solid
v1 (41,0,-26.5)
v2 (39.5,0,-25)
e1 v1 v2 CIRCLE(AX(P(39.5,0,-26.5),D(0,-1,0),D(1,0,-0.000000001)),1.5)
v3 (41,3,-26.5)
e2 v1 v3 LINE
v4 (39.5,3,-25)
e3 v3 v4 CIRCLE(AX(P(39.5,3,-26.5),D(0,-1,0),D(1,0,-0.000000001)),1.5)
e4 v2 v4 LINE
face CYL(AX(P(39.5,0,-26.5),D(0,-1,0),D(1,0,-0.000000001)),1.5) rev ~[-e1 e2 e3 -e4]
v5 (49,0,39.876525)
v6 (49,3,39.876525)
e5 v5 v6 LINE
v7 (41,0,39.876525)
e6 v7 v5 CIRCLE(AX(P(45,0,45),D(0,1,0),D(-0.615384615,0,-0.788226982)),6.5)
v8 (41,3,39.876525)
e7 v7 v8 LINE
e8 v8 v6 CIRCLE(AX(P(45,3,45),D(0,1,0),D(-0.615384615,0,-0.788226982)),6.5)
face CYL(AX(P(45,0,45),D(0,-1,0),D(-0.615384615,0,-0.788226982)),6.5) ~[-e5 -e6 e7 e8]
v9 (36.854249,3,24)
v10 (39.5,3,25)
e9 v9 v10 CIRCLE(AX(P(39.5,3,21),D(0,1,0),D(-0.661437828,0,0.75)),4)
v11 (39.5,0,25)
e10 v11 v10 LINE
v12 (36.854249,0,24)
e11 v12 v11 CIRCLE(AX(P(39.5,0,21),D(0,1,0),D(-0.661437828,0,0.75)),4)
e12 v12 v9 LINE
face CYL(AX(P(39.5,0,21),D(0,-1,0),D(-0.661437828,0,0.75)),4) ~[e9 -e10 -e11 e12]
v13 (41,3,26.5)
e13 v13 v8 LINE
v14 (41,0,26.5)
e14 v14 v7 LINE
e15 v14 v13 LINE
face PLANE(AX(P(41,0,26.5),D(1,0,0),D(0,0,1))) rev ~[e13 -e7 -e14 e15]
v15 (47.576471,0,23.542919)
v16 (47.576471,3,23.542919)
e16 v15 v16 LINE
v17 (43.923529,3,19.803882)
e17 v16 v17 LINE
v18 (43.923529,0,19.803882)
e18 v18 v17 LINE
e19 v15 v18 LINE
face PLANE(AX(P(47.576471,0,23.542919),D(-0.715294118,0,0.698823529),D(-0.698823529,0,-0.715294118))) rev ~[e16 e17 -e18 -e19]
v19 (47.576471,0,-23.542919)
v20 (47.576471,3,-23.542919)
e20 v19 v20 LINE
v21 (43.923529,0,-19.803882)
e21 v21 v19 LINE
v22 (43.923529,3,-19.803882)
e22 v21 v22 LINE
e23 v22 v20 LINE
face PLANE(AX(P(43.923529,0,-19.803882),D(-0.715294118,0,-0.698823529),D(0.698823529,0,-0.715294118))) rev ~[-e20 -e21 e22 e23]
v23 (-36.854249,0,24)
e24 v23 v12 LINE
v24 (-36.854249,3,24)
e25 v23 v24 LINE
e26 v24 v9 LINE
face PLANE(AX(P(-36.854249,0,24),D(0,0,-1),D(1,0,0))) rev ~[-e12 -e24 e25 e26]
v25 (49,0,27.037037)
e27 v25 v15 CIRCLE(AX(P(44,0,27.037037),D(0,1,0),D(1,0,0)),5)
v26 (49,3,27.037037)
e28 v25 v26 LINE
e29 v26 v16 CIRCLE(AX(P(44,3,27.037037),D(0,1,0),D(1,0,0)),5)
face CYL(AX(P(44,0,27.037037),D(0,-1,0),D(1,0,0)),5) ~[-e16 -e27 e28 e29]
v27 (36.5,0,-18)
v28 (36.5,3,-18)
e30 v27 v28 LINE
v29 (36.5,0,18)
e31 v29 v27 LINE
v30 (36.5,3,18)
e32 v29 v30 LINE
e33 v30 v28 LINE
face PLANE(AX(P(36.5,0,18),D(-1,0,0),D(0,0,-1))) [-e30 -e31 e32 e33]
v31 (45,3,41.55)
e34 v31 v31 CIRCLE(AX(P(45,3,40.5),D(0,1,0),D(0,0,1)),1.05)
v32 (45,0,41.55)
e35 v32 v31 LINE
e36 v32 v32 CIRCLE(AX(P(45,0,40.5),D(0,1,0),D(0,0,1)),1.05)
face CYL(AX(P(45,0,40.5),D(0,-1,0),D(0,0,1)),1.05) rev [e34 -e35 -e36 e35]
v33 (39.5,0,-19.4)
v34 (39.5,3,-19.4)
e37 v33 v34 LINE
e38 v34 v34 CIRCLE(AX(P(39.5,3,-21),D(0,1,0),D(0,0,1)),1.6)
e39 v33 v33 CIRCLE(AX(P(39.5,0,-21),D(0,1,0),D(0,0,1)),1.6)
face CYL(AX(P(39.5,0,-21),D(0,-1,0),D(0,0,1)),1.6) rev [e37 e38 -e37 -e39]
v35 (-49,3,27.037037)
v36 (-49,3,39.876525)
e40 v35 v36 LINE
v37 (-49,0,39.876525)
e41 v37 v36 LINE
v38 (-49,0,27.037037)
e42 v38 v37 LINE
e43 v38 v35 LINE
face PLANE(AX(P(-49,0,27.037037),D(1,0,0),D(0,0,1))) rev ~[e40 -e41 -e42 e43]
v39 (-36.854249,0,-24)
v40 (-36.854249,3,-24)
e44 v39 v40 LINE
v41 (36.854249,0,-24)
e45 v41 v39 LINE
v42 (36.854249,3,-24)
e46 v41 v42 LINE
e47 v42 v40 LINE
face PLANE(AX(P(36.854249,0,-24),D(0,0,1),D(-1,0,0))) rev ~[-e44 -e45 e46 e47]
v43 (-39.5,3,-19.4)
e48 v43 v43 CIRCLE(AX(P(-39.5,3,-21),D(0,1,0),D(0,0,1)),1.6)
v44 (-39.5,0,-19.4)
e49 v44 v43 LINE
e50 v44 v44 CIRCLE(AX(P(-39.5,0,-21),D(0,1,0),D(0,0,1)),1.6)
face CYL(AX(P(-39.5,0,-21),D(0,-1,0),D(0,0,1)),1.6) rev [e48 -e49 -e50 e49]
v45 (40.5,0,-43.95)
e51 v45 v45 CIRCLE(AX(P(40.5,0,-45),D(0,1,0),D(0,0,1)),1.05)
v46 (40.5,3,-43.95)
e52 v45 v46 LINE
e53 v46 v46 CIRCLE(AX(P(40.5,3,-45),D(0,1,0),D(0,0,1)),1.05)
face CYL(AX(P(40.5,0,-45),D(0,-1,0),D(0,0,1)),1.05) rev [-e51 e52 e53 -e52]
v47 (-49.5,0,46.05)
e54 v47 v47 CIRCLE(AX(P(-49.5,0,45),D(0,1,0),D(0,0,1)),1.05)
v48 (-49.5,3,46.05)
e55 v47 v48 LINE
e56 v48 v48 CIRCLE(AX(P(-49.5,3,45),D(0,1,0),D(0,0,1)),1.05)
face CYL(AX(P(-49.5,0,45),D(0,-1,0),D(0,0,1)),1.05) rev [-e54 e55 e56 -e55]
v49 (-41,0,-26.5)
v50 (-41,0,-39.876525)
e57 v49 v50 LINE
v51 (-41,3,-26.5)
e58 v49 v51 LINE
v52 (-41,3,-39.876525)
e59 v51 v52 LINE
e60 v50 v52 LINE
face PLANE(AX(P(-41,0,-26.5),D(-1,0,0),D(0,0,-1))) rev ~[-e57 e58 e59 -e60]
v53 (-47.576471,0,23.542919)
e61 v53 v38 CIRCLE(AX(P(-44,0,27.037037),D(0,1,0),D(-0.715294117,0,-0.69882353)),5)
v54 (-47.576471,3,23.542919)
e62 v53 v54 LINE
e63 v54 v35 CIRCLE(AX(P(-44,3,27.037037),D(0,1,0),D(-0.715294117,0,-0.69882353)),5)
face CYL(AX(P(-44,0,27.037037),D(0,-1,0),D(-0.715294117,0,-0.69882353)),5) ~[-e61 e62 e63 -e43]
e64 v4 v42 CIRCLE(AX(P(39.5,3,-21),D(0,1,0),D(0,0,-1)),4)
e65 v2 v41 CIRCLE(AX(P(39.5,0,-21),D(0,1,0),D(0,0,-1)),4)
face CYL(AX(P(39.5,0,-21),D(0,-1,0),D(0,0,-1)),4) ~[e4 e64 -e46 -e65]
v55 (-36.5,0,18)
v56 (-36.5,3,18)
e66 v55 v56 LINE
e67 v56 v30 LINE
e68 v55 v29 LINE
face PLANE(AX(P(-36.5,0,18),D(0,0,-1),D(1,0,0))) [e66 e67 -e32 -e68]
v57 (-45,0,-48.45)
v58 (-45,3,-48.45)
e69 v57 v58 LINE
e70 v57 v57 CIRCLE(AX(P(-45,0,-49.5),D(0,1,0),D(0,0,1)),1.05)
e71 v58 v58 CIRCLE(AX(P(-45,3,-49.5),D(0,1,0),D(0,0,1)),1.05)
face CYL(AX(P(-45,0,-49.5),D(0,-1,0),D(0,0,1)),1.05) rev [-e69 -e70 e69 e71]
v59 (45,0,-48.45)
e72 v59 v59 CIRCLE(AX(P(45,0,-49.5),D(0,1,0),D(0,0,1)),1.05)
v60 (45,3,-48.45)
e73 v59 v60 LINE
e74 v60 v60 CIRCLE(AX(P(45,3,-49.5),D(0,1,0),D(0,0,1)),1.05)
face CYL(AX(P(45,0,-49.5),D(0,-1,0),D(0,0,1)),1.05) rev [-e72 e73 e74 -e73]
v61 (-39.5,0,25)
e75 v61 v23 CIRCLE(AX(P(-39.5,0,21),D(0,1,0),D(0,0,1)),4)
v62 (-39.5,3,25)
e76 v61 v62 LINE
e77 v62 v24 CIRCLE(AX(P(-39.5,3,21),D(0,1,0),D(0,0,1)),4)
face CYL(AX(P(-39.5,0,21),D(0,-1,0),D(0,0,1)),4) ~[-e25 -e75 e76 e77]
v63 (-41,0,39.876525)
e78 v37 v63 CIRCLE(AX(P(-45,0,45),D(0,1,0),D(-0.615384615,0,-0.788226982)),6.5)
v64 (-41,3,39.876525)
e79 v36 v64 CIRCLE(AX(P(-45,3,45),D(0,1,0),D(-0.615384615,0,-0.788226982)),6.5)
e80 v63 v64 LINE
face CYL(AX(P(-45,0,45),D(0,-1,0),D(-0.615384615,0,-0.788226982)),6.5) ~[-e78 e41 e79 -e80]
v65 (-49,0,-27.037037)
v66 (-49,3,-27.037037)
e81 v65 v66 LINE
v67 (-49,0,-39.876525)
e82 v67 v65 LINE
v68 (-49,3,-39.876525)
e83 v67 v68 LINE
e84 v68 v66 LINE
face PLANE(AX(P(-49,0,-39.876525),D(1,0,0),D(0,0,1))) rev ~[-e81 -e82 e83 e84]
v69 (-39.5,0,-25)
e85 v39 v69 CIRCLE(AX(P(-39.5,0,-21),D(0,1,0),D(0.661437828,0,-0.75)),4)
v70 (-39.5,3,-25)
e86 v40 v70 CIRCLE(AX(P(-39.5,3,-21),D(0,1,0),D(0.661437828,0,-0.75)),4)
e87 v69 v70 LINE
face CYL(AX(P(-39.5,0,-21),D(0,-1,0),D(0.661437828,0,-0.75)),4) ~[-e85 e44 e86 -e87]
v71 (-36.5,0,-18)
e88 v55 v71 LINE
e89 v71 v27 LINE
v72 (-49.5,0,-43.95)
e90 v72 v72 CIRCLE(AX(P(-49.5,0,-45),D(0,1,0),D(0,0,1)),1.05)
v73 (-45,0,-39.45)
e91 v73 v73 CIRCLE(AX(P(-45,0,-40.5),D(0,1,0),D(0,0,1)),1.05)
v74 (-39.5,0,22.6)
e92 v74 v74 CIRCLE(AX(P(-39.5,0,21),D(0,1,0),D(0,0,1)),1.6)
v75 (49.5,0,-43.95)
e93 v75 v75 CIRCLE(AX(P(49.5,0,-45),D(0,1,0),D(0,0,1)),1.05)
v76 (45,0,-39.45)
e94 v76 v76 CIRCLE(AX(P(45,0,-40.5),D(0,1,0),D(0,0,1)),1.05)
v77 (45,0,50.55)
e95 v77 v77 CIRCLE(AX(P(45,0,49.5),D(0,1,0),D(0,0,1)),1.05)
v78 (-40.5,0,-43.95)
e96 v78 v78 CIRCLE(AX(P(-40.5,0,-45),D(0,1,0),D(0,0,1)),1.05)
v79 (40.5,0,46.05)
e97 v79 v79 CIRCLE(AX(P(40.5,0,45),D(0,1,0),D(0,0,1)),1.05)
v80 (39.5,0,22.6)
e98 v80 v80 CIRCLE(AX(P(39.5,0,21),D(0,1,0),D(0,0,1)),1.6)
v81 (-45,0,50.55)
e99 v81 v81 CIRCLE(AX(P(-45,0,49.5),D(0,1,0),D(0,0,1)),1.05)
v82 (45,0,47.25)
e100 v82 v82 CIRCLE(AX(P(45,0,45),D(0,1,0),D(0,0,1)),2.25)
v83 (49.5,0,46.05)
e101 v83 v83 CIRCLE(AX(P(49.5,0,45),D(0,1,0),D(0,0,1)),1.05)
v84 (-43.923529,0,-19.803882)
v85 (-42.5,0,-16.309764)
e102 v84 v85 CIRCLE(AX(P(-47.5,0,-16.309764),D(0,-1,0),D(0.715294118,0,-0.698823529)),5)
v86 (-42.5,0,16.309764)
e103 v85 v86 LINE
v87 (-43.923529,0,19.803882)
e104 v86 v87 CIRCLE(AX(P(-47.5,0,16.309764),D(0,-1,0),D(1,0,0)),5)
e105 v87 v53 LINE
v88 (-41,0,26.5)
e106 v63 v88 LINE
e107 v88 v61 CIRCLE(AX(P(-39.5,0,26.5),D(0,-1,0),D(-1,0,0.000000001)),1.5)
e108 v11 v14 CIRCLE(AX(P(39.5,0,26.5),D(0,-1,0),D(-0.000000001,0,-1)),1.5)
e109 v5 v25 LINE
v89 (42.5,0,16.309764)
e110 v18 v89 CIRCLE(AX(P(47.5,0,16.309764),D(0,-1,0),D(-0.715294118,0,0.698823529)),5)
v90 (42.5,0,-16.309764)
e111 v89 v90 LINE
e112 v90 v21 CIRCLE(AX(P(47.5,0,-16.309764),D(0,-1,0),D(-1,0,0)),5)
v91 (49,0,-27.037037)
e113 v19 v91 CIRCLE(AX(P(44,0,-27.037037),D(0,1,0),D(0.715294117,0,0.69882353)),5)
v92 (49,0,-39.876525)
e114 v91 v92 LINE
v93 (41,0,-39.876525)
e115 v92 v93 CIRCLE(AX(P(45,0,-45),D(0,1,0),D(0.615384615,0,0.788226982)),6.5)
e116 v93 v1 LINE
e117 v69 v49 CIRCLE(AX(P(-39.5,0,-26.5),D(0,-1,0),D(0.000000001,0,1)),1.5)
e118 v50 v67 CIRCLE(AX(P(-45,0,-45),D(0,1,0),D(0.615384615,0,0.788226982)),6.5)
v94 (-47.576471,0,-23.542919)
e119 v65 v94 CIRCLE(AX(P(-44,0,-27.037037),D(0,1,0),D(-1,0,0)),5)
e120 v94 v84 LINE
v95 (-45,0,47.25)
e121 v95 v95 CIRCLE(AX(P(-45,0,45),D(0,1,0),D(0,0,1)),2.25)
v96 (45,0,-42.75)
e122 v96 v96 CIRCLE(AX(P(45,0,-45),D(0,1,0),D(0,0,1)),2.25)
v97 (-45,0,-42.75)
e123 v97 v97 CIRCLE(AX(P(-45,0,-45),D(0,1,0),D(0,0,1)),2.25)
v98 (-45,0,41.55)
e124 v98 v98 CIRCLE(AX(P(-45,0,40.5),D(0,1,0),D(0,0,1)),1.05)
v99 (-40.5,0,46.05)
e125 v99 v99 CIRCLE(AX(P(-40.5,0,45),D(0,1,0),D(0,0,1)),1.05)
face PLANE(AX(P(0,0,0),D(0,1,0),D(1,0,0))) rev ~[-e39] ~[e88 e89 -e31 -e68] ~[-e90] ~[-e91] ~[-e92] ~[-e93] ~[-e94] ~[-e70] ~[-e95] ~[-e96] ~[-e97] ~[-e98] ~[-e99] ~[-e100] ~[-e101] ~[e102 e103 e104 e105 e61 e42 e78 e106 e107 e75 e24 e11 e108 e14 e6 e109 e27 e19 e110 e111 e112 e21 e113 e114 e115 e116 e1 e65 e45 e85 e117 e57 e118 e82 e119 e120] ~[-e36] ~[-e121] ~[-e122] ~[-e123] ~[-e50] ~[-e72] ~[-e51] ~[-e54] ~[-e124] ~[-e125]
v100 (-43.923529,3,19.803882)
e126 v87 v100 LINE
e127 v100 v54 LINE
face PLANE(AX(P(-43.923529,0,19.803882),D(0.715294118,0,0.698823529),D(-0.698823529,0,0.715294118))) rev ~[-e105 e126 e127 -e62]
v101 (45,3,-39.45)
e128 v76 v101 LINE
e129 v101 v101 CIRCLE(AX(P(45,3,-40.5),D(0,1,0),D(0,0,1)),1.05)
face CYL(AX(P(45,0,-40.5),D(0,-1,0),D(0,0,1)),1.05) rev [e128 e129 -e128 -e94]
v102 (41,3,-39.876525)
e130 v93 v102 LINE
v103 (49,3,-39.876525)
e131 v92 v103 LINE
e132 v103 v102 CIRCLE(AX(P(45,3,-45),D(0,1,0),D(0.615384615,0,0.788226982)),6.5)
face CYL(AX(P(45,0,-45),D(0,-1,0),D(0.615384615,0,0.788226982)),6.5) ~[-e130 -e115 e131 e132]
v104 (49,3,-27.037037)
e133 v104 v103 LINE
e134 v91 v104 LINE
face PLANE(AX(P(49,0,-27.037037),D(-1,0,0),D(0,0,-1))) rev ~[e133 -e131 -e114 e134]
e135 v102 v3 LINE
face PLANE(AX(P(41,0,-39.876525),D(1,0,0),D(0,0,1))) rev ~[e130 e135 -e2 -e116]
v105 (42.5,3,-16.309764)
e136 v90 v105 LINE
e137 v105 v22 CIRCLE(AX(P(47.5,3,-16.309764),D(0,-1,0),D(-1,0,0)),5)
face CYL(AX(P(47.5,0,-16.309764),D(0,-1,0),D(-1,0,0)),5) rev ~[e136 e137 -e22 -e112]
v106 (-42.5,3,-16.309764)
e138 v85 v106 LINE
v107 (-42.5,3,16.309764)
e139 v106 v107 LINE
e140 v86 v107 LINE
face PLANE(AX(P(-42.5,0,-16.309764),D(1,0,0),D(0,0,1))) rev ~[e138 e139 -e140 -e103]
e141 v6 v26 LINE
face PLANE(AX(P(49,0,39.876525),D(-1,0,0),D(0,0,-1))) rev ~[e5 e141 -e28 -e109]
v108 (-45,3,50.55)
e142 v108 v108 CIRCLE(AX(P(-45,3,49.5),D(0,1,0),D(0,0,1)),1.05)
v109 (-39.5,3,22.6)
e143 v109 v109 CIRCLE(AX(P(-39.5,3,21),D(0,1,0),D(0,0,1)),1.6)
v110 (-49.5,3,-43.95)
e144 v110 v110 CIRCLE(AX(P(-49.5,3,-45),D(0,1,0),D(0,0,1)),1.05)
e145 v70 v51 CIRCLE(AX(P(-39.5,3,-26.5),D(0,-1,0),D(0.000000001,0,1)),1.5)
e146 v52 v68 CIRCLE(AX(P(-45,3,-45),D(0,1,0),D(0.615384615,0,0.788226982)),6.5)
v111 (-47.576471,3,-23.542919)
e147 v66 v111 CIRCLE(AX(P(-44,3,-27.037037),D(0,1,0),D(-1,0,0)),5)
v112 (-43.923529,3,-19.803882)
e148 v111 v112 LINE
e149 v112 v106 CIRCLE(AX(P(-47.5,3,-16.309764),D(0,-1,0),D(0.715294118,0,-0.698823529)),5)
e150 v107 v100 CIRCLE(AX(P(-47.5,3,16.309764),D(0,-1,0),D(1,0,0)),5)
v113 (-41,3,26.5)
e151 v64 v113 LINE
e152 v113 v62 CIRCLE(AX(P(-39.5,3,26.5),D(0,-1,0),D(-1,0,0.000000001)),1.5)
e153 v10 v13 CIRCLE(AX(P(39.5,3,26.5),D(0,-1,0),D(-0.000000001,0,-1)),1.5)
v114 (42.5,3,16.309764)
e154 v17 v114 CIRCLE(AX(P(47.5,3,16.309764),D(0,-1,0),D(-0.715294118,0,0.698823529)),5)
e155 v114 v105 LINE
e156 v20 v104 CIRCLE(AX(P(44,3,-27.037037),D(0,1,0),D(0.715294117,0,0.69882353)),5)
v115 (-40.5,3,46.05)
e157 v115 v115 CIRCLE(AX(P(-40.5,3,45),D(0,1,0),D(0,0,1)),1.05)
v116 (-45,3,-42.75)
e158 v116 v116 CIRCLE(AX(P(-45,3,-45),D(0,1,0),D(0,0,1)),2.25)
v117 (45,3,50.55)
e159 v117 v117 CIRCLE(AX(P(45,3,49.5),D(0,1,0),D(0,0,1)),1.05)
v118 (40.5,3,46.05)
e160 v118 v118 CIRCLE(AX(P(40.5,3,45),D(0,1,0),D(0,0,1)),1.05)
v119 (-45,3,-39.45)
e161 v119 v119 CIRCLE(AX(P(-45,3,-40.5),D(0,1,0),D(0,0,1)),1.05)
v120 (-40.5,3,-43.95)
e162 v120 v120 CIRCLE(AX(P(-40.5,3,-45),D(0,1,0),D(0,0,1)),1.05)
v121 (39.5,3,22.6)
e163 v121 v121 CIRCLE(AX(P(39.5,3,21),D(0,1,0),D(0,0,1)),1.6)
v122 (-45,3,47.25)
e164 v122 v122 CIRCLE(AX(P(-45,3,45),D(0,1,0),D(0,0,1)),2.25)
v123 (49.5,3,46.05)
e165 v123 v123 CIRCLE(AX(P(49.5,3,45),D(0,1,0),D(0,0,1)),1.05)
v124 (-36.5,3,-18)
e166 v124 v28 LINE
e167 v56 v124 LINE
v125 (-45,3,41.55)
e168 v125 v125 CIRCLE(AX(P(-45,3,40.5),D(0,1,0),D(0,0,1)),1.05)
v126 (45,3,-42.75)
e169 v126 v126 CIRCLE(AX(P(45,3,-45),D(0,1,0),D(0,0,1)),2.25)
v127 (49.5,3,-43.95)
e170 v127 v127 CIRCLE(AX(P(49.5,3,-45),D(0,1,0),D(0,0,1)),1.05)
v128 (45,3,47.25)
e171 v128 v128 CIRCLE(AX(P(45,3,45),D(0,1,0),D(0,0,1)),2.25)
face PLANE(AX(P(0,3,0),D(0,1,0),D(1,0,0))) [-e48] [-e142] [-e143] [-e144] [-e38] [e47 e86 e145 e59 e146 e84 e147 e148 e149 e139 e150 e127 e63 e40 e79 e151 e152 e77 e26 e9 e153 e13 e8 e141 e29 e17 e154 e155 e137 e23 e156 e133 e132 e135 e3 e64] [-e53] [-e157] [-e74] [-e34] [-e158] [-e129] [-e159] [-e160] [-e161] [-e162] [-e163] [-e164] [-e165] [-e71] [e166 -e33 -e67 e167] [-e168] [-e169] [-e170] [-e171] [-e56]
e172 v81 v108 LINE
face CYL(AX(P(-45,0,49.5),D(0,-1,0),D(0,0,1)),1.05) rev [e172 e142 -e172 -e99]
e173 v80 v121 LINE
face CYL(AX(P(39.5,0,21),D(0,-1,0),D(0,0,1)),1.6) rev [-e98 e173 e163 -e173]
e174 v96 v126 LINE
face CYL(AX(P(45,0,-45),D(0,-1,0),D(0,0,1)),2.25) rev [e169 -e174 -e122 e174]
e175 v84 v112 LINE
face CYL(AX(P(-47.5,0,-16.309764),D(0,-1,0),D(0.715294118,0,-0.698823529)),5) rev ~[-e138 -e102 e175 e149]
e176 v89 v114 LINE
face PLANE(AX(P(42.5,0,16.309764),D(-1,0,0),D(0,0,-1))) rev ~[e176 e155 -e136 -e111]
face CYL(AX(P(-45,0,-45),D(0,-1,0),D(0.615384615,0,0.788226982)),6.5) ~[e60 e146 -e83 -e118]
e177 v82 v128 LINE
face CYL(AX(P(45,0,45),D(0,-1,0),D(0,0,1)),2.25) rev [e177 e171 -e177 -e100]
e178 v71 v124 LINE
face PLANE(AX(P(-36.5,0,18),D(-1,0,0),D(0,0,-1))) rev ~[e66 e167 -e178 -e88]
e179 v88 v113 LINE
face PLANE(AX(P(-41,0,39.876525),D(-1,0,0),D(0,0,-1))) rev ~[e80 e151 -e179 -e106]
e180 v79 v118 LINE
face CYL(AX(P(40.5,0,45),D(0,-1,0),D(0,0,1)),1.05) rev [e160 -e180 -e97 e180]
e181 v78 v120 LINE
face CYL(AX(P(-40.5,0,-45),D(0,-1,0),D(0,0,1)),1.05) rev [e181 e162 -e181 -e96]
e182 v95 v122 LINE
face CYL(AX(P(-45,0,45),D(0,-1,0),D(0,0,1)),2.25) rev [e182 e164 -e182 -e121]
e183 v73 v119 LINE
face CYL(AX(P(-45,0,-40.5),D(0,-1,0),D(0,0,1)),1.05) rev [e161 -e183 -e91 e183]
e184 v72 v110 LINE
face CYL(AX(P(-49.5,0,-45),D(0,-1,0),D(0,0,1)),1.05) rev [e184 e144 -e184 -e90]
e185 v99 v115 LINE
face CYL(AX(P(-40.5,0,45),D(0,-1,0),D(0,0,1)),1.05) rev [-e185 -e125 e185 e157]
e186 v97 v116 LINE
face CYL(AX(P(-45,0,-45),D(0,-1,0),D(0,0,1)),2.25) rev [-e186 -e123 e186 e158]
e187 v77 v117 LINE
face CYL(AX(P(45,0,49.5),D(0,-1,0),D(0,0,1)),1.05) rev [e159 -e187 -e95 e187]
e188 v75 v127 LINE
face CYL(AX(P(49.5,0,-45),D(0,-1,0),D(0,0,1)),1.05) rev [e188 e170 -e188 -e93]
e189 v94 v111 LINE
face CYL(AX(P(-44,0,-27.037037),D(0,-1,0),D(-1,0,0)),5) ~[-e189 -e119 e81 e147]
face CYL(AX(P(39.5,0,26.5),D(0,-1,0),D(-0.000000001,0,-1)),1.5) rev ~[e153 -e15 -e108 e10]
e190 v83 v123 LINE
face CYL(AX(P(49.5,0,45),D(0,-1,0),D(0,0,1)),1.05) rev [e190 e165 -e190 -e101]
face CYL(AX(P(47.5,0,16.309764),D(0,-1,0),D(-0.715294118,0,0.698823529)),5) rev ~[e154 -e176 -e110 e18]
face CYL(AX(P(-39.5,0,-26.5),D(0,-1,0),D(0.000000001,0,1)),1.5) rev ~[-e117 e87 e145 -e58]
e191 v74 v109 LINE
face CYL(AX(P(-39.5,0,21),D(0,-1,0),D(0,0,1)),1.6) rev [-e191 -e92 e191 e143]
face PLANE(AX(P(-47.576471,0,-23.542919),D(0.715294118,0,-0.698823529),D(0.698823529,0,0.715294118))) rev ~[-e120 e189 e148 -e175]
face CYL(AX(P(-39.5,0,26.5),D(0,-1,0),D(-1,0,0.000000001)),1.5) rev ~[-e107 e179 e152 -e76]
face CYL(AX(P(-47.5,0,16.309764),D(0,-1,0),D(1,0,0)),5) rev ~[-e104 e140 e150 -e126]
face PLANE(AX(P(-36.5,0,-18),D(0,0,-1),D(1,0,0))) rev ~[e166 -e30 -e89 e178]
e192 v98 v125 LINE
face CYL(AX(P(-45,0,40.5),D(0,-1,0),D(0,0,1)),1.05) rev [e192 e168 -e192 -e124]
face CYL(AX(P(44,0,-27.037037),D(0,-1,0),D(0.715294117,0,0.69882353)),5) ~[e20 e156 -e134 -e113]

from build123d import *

# Parameters (mm, degrees)
SKETCH_1_R      = 1.6
SKETCH_1_R_2    = 2.25
SKETCH_1_R_3    = 1.05
SKETCH_1_W      = 73
SKETCH_1_H      = 36
EXTRUDE_2_DEPTH = 3


with BuildPart() as part:
    # 草图1 → 凸台-拉伸2 (new body)
    with BuildSketch(Plane(origin=(0, 0, 0), x_dir=(1, 0, 0), z_dir=(0, 1, 0))):
        with BuildLine():
            Line((41, 39.876524617), (41, 26.5))
            ThreePointArc((41, 26.5), (40.560660172, 25.439339828), (39.5, 25))
            ThreePointArc((39.5, 25), (38.085786438, 24.741657387), (36.854248689, 24))
            Line((36.854248689, 24), (-36.854248689, 24))
            ThreePointArc((-36.854248689, 24), (-38.085786438, 24.741657387), (-39.5, 25))
            ThreePointArc((-39.5, 25), (-40.560660172, 25.439339828), (-41, 26.5))
            Line((-41, 26.5), (-41, 39.876524617))
            ThreePointArc((-41, 39.876524617), (-45, 51.5), (-49, 39.876524617))
            Line((-49, 39.876524617), (-49, 27.037037037))
            ThreePointArc((-49, 27.037037037), (-48.630461799, 25.1505526), (-47.576470588, 23.54291939))
            Line((-47.576470588, 23.54291939), (-43.923529412, 19.803881957))
            ThreePointArc((-43.923529412, 19.803881957), (-42.869538201, 18.196248746), (-42.5, 16.30976431))
            Line((-42.5, 16.30976431), (-42.5, -16.30976431))
            ThreePointArc((-42.5, -16.30976431), (-42.869538201, -18.196248746), (-43.923529412, -19.803881957))
            Line((-43.923529412, -19.803881957), (-47.576470588, -23.54291939))
            ThreePointArc((-47.576470588, -23.54291939), (-48.630461799, -25.1505526), (-49, -27.037037037))
            Line((-49, -27.037037037), (-49, -39.876524617))
            ThreePointArc((-49, -39.876524617), (-45, -51.5), (-41, -39.876524617))
            Line((-41, -39.876524617), (-41, -26.5))
            ThreePointArc((-41, -26.5), (-40.560660172, -25.439339828), (-39.5, -25))
            ThreePointArc((-39.5, -25), (-38.085786438, -24.741657387), (-36.854248689, -24))
            Line((-36.854248689, -24), (36.854248689, -24))
            ThreePointArc((36.854248689, -24), (38.085786438, -24.741657387), (39.5, -25))
            ThreePointArc((39.5, -25), (40.560660172, -25.439339828), (41, -26.5))
            Line((41, -26.5), (41, -39.876524617))
            ThreePointArc((41, -39.876524617), (45, -51.5), (49, -39.876524617))
            Line((49, -39.876524617), (49, -27.037037037))
            ThreePointArc((49, -27.037037037), (48.630461799, -25.1505526), (47.576470588, -23.54291939))
            Line((47.576470588, -23.54291939), (43.923529412, -19.803881957))
            ThreePointArc((43.923529412, -19.803881957), (42.869538201, -18.196248746), (42.5, -16.30976431))
            Line((42.5, -16.30976431), (42.5, 16.30976431))
            ThreePointArc((42.5, 16.30976431), (42.869538201, 18.196248746), (43.923529412, 19.803881957))
            Line((43.923529412, 19.803881957), (47.576470588, 23.54291939))
            ThreePointArc((47.576470588, 23.54291939), (48.630461799, 25.1505526), (49, 27.037037037))
            Line((49, 27.037037037), (49, 39.876524617))
            ThreePointArc((49, 39.876524617), (45, 51.5), (41, 39.876524617))
        make_face()
        with Locations(Location((-39.5, 21, 0), (0, 0, 270))):
            Circle(SKETCH_1_R, mode=Mode.SUBTRACT)
        with Locations(Location((39.5, 21, 0), (0, 0, 270))):
            Circle(SKETCH_1_R, mode=Mode.SUBTRACT)
        with Locations(Location((39.5, -21, 0), (0, 0, 270))):
            Circle(SKETCH_1_R, mode=Mode.SUBTRACT)
        with Locations(Location((-39.5, -21, 0), (0, 0, 270))):
            Circle(SKETCH_1_R, mode=Mode.SUBTRACT)
        with Locations(Location((45, 45, 0), (0, 0, 270))):
            Circle(SKETCH_1_R_2, mode=Mode.SUBTRACT)
        with Locations(Location((45, 49.5, 0), (0, 0, 270))):
            Circle(SKETCH_1_R_3, mode=Mode.SUBTRACT)
        with Locations(Location((49.5, 45, 0), (0, 0, 270))):
            Circle(SKETCH_1_R_3, mode=Mode.SUBTRACT)
        with Locations(Location((45, 40.5, 0), (0, 0, 270))):
            Circle(SKETCH_1_R_3, mode=Mode.SUBTRACT)
        with Locations(Location((40.5, 45, 0), (0, 0, 270))):
            Circle(SKETCH_1_R_3, mode=Mode.SUBTRACT)
        with Locations(Location((40.5, -45, 0), (0, 0, 270))):
            Circle(SKETCH_1_R_3, mode=Mode.SUBTRACT)
        with Locations(Location((45, -40.5, 0), (0, 0, 270))):
            Circle(SKETCH_1_R_3, mode=Mode.SUBTRACT)
        with Locations(Location((49.5, -45, 0), (0, 0, 270))):
            Circle(SKETCH_1_R_3, mode=Mode.SUBTRACT)
        with Locations(Location((45, -49.5, 0), (0, 0, 270))):
            Circle(SKETCH_1_R_3, mode=Mode.SUBTRACT)
        with Locations(Location((45, -45, 0), (0, 0, 270))):
            Circle(SKETCH_1_R_2, mode=Mode.SUBTRACT)
        with Locations(Location((-45, -40.5, 0), (0, 0, 270))):
            Circle(SKETCH_1_R_3, mode=Mode.SUBTRACT)
        with Locations(Location((-40.5, -45, 0), (0, 0, 270))):
            Circle(SKETCH_1_R_3, mode=Mode.SUBTRACT)
        with Locations(Location((-45, -49.5, 0), (0, 0, 270))):
            Circle(SKETCH_1_R_3, mode=Mode.SUBTRACT)
        with Locations(Location((-49.5, -45, 0), (0, 0, 270))):
            Circle(SKETCH_1_R_3, mode=Mode.SUBTRACT)
        with Locations(Location((-45, -45, 0), (0, 0, 270))):
            Circle(SKETCH_1_R_2, mode=Mode.SUBTRACT)
        with Locations(Location((-40.5, 45, 0), (0, 0, 270))):
            Circle(SKETCH_1_R_3, mode=Mode.SUBTRACT)
        with Locations(Location((-45, 40.5, 0), (0, 0, 270))):
            Circle(SKETCH_1_R_3, mode=Mode.SUBTRACT)
        with Locations(Location((-49.5, 45, 0), (0, 0, 270))):
            Circle(SKETCH_1_R_3, mode=Mode.SUBTRACT)
        with Locations(Location((-45, 49.5, 0), (0, 0, 270))):
            Circle(SKETCH_1_R_3, mode=Mode.SUBTRACT)
        with Locations(Location((-45, 45, 0), (0, 0, 270))):
            Circle(SKETCH_1_R_2, mode=Mode.SUBTRACT)
        Rectangle(SKETCH_1_W, SKETCH_1_H, mode=Mode.SUBTRACT)
    extrude(amount=EXTRUDE_2_DEPTH)


solid = part.part
